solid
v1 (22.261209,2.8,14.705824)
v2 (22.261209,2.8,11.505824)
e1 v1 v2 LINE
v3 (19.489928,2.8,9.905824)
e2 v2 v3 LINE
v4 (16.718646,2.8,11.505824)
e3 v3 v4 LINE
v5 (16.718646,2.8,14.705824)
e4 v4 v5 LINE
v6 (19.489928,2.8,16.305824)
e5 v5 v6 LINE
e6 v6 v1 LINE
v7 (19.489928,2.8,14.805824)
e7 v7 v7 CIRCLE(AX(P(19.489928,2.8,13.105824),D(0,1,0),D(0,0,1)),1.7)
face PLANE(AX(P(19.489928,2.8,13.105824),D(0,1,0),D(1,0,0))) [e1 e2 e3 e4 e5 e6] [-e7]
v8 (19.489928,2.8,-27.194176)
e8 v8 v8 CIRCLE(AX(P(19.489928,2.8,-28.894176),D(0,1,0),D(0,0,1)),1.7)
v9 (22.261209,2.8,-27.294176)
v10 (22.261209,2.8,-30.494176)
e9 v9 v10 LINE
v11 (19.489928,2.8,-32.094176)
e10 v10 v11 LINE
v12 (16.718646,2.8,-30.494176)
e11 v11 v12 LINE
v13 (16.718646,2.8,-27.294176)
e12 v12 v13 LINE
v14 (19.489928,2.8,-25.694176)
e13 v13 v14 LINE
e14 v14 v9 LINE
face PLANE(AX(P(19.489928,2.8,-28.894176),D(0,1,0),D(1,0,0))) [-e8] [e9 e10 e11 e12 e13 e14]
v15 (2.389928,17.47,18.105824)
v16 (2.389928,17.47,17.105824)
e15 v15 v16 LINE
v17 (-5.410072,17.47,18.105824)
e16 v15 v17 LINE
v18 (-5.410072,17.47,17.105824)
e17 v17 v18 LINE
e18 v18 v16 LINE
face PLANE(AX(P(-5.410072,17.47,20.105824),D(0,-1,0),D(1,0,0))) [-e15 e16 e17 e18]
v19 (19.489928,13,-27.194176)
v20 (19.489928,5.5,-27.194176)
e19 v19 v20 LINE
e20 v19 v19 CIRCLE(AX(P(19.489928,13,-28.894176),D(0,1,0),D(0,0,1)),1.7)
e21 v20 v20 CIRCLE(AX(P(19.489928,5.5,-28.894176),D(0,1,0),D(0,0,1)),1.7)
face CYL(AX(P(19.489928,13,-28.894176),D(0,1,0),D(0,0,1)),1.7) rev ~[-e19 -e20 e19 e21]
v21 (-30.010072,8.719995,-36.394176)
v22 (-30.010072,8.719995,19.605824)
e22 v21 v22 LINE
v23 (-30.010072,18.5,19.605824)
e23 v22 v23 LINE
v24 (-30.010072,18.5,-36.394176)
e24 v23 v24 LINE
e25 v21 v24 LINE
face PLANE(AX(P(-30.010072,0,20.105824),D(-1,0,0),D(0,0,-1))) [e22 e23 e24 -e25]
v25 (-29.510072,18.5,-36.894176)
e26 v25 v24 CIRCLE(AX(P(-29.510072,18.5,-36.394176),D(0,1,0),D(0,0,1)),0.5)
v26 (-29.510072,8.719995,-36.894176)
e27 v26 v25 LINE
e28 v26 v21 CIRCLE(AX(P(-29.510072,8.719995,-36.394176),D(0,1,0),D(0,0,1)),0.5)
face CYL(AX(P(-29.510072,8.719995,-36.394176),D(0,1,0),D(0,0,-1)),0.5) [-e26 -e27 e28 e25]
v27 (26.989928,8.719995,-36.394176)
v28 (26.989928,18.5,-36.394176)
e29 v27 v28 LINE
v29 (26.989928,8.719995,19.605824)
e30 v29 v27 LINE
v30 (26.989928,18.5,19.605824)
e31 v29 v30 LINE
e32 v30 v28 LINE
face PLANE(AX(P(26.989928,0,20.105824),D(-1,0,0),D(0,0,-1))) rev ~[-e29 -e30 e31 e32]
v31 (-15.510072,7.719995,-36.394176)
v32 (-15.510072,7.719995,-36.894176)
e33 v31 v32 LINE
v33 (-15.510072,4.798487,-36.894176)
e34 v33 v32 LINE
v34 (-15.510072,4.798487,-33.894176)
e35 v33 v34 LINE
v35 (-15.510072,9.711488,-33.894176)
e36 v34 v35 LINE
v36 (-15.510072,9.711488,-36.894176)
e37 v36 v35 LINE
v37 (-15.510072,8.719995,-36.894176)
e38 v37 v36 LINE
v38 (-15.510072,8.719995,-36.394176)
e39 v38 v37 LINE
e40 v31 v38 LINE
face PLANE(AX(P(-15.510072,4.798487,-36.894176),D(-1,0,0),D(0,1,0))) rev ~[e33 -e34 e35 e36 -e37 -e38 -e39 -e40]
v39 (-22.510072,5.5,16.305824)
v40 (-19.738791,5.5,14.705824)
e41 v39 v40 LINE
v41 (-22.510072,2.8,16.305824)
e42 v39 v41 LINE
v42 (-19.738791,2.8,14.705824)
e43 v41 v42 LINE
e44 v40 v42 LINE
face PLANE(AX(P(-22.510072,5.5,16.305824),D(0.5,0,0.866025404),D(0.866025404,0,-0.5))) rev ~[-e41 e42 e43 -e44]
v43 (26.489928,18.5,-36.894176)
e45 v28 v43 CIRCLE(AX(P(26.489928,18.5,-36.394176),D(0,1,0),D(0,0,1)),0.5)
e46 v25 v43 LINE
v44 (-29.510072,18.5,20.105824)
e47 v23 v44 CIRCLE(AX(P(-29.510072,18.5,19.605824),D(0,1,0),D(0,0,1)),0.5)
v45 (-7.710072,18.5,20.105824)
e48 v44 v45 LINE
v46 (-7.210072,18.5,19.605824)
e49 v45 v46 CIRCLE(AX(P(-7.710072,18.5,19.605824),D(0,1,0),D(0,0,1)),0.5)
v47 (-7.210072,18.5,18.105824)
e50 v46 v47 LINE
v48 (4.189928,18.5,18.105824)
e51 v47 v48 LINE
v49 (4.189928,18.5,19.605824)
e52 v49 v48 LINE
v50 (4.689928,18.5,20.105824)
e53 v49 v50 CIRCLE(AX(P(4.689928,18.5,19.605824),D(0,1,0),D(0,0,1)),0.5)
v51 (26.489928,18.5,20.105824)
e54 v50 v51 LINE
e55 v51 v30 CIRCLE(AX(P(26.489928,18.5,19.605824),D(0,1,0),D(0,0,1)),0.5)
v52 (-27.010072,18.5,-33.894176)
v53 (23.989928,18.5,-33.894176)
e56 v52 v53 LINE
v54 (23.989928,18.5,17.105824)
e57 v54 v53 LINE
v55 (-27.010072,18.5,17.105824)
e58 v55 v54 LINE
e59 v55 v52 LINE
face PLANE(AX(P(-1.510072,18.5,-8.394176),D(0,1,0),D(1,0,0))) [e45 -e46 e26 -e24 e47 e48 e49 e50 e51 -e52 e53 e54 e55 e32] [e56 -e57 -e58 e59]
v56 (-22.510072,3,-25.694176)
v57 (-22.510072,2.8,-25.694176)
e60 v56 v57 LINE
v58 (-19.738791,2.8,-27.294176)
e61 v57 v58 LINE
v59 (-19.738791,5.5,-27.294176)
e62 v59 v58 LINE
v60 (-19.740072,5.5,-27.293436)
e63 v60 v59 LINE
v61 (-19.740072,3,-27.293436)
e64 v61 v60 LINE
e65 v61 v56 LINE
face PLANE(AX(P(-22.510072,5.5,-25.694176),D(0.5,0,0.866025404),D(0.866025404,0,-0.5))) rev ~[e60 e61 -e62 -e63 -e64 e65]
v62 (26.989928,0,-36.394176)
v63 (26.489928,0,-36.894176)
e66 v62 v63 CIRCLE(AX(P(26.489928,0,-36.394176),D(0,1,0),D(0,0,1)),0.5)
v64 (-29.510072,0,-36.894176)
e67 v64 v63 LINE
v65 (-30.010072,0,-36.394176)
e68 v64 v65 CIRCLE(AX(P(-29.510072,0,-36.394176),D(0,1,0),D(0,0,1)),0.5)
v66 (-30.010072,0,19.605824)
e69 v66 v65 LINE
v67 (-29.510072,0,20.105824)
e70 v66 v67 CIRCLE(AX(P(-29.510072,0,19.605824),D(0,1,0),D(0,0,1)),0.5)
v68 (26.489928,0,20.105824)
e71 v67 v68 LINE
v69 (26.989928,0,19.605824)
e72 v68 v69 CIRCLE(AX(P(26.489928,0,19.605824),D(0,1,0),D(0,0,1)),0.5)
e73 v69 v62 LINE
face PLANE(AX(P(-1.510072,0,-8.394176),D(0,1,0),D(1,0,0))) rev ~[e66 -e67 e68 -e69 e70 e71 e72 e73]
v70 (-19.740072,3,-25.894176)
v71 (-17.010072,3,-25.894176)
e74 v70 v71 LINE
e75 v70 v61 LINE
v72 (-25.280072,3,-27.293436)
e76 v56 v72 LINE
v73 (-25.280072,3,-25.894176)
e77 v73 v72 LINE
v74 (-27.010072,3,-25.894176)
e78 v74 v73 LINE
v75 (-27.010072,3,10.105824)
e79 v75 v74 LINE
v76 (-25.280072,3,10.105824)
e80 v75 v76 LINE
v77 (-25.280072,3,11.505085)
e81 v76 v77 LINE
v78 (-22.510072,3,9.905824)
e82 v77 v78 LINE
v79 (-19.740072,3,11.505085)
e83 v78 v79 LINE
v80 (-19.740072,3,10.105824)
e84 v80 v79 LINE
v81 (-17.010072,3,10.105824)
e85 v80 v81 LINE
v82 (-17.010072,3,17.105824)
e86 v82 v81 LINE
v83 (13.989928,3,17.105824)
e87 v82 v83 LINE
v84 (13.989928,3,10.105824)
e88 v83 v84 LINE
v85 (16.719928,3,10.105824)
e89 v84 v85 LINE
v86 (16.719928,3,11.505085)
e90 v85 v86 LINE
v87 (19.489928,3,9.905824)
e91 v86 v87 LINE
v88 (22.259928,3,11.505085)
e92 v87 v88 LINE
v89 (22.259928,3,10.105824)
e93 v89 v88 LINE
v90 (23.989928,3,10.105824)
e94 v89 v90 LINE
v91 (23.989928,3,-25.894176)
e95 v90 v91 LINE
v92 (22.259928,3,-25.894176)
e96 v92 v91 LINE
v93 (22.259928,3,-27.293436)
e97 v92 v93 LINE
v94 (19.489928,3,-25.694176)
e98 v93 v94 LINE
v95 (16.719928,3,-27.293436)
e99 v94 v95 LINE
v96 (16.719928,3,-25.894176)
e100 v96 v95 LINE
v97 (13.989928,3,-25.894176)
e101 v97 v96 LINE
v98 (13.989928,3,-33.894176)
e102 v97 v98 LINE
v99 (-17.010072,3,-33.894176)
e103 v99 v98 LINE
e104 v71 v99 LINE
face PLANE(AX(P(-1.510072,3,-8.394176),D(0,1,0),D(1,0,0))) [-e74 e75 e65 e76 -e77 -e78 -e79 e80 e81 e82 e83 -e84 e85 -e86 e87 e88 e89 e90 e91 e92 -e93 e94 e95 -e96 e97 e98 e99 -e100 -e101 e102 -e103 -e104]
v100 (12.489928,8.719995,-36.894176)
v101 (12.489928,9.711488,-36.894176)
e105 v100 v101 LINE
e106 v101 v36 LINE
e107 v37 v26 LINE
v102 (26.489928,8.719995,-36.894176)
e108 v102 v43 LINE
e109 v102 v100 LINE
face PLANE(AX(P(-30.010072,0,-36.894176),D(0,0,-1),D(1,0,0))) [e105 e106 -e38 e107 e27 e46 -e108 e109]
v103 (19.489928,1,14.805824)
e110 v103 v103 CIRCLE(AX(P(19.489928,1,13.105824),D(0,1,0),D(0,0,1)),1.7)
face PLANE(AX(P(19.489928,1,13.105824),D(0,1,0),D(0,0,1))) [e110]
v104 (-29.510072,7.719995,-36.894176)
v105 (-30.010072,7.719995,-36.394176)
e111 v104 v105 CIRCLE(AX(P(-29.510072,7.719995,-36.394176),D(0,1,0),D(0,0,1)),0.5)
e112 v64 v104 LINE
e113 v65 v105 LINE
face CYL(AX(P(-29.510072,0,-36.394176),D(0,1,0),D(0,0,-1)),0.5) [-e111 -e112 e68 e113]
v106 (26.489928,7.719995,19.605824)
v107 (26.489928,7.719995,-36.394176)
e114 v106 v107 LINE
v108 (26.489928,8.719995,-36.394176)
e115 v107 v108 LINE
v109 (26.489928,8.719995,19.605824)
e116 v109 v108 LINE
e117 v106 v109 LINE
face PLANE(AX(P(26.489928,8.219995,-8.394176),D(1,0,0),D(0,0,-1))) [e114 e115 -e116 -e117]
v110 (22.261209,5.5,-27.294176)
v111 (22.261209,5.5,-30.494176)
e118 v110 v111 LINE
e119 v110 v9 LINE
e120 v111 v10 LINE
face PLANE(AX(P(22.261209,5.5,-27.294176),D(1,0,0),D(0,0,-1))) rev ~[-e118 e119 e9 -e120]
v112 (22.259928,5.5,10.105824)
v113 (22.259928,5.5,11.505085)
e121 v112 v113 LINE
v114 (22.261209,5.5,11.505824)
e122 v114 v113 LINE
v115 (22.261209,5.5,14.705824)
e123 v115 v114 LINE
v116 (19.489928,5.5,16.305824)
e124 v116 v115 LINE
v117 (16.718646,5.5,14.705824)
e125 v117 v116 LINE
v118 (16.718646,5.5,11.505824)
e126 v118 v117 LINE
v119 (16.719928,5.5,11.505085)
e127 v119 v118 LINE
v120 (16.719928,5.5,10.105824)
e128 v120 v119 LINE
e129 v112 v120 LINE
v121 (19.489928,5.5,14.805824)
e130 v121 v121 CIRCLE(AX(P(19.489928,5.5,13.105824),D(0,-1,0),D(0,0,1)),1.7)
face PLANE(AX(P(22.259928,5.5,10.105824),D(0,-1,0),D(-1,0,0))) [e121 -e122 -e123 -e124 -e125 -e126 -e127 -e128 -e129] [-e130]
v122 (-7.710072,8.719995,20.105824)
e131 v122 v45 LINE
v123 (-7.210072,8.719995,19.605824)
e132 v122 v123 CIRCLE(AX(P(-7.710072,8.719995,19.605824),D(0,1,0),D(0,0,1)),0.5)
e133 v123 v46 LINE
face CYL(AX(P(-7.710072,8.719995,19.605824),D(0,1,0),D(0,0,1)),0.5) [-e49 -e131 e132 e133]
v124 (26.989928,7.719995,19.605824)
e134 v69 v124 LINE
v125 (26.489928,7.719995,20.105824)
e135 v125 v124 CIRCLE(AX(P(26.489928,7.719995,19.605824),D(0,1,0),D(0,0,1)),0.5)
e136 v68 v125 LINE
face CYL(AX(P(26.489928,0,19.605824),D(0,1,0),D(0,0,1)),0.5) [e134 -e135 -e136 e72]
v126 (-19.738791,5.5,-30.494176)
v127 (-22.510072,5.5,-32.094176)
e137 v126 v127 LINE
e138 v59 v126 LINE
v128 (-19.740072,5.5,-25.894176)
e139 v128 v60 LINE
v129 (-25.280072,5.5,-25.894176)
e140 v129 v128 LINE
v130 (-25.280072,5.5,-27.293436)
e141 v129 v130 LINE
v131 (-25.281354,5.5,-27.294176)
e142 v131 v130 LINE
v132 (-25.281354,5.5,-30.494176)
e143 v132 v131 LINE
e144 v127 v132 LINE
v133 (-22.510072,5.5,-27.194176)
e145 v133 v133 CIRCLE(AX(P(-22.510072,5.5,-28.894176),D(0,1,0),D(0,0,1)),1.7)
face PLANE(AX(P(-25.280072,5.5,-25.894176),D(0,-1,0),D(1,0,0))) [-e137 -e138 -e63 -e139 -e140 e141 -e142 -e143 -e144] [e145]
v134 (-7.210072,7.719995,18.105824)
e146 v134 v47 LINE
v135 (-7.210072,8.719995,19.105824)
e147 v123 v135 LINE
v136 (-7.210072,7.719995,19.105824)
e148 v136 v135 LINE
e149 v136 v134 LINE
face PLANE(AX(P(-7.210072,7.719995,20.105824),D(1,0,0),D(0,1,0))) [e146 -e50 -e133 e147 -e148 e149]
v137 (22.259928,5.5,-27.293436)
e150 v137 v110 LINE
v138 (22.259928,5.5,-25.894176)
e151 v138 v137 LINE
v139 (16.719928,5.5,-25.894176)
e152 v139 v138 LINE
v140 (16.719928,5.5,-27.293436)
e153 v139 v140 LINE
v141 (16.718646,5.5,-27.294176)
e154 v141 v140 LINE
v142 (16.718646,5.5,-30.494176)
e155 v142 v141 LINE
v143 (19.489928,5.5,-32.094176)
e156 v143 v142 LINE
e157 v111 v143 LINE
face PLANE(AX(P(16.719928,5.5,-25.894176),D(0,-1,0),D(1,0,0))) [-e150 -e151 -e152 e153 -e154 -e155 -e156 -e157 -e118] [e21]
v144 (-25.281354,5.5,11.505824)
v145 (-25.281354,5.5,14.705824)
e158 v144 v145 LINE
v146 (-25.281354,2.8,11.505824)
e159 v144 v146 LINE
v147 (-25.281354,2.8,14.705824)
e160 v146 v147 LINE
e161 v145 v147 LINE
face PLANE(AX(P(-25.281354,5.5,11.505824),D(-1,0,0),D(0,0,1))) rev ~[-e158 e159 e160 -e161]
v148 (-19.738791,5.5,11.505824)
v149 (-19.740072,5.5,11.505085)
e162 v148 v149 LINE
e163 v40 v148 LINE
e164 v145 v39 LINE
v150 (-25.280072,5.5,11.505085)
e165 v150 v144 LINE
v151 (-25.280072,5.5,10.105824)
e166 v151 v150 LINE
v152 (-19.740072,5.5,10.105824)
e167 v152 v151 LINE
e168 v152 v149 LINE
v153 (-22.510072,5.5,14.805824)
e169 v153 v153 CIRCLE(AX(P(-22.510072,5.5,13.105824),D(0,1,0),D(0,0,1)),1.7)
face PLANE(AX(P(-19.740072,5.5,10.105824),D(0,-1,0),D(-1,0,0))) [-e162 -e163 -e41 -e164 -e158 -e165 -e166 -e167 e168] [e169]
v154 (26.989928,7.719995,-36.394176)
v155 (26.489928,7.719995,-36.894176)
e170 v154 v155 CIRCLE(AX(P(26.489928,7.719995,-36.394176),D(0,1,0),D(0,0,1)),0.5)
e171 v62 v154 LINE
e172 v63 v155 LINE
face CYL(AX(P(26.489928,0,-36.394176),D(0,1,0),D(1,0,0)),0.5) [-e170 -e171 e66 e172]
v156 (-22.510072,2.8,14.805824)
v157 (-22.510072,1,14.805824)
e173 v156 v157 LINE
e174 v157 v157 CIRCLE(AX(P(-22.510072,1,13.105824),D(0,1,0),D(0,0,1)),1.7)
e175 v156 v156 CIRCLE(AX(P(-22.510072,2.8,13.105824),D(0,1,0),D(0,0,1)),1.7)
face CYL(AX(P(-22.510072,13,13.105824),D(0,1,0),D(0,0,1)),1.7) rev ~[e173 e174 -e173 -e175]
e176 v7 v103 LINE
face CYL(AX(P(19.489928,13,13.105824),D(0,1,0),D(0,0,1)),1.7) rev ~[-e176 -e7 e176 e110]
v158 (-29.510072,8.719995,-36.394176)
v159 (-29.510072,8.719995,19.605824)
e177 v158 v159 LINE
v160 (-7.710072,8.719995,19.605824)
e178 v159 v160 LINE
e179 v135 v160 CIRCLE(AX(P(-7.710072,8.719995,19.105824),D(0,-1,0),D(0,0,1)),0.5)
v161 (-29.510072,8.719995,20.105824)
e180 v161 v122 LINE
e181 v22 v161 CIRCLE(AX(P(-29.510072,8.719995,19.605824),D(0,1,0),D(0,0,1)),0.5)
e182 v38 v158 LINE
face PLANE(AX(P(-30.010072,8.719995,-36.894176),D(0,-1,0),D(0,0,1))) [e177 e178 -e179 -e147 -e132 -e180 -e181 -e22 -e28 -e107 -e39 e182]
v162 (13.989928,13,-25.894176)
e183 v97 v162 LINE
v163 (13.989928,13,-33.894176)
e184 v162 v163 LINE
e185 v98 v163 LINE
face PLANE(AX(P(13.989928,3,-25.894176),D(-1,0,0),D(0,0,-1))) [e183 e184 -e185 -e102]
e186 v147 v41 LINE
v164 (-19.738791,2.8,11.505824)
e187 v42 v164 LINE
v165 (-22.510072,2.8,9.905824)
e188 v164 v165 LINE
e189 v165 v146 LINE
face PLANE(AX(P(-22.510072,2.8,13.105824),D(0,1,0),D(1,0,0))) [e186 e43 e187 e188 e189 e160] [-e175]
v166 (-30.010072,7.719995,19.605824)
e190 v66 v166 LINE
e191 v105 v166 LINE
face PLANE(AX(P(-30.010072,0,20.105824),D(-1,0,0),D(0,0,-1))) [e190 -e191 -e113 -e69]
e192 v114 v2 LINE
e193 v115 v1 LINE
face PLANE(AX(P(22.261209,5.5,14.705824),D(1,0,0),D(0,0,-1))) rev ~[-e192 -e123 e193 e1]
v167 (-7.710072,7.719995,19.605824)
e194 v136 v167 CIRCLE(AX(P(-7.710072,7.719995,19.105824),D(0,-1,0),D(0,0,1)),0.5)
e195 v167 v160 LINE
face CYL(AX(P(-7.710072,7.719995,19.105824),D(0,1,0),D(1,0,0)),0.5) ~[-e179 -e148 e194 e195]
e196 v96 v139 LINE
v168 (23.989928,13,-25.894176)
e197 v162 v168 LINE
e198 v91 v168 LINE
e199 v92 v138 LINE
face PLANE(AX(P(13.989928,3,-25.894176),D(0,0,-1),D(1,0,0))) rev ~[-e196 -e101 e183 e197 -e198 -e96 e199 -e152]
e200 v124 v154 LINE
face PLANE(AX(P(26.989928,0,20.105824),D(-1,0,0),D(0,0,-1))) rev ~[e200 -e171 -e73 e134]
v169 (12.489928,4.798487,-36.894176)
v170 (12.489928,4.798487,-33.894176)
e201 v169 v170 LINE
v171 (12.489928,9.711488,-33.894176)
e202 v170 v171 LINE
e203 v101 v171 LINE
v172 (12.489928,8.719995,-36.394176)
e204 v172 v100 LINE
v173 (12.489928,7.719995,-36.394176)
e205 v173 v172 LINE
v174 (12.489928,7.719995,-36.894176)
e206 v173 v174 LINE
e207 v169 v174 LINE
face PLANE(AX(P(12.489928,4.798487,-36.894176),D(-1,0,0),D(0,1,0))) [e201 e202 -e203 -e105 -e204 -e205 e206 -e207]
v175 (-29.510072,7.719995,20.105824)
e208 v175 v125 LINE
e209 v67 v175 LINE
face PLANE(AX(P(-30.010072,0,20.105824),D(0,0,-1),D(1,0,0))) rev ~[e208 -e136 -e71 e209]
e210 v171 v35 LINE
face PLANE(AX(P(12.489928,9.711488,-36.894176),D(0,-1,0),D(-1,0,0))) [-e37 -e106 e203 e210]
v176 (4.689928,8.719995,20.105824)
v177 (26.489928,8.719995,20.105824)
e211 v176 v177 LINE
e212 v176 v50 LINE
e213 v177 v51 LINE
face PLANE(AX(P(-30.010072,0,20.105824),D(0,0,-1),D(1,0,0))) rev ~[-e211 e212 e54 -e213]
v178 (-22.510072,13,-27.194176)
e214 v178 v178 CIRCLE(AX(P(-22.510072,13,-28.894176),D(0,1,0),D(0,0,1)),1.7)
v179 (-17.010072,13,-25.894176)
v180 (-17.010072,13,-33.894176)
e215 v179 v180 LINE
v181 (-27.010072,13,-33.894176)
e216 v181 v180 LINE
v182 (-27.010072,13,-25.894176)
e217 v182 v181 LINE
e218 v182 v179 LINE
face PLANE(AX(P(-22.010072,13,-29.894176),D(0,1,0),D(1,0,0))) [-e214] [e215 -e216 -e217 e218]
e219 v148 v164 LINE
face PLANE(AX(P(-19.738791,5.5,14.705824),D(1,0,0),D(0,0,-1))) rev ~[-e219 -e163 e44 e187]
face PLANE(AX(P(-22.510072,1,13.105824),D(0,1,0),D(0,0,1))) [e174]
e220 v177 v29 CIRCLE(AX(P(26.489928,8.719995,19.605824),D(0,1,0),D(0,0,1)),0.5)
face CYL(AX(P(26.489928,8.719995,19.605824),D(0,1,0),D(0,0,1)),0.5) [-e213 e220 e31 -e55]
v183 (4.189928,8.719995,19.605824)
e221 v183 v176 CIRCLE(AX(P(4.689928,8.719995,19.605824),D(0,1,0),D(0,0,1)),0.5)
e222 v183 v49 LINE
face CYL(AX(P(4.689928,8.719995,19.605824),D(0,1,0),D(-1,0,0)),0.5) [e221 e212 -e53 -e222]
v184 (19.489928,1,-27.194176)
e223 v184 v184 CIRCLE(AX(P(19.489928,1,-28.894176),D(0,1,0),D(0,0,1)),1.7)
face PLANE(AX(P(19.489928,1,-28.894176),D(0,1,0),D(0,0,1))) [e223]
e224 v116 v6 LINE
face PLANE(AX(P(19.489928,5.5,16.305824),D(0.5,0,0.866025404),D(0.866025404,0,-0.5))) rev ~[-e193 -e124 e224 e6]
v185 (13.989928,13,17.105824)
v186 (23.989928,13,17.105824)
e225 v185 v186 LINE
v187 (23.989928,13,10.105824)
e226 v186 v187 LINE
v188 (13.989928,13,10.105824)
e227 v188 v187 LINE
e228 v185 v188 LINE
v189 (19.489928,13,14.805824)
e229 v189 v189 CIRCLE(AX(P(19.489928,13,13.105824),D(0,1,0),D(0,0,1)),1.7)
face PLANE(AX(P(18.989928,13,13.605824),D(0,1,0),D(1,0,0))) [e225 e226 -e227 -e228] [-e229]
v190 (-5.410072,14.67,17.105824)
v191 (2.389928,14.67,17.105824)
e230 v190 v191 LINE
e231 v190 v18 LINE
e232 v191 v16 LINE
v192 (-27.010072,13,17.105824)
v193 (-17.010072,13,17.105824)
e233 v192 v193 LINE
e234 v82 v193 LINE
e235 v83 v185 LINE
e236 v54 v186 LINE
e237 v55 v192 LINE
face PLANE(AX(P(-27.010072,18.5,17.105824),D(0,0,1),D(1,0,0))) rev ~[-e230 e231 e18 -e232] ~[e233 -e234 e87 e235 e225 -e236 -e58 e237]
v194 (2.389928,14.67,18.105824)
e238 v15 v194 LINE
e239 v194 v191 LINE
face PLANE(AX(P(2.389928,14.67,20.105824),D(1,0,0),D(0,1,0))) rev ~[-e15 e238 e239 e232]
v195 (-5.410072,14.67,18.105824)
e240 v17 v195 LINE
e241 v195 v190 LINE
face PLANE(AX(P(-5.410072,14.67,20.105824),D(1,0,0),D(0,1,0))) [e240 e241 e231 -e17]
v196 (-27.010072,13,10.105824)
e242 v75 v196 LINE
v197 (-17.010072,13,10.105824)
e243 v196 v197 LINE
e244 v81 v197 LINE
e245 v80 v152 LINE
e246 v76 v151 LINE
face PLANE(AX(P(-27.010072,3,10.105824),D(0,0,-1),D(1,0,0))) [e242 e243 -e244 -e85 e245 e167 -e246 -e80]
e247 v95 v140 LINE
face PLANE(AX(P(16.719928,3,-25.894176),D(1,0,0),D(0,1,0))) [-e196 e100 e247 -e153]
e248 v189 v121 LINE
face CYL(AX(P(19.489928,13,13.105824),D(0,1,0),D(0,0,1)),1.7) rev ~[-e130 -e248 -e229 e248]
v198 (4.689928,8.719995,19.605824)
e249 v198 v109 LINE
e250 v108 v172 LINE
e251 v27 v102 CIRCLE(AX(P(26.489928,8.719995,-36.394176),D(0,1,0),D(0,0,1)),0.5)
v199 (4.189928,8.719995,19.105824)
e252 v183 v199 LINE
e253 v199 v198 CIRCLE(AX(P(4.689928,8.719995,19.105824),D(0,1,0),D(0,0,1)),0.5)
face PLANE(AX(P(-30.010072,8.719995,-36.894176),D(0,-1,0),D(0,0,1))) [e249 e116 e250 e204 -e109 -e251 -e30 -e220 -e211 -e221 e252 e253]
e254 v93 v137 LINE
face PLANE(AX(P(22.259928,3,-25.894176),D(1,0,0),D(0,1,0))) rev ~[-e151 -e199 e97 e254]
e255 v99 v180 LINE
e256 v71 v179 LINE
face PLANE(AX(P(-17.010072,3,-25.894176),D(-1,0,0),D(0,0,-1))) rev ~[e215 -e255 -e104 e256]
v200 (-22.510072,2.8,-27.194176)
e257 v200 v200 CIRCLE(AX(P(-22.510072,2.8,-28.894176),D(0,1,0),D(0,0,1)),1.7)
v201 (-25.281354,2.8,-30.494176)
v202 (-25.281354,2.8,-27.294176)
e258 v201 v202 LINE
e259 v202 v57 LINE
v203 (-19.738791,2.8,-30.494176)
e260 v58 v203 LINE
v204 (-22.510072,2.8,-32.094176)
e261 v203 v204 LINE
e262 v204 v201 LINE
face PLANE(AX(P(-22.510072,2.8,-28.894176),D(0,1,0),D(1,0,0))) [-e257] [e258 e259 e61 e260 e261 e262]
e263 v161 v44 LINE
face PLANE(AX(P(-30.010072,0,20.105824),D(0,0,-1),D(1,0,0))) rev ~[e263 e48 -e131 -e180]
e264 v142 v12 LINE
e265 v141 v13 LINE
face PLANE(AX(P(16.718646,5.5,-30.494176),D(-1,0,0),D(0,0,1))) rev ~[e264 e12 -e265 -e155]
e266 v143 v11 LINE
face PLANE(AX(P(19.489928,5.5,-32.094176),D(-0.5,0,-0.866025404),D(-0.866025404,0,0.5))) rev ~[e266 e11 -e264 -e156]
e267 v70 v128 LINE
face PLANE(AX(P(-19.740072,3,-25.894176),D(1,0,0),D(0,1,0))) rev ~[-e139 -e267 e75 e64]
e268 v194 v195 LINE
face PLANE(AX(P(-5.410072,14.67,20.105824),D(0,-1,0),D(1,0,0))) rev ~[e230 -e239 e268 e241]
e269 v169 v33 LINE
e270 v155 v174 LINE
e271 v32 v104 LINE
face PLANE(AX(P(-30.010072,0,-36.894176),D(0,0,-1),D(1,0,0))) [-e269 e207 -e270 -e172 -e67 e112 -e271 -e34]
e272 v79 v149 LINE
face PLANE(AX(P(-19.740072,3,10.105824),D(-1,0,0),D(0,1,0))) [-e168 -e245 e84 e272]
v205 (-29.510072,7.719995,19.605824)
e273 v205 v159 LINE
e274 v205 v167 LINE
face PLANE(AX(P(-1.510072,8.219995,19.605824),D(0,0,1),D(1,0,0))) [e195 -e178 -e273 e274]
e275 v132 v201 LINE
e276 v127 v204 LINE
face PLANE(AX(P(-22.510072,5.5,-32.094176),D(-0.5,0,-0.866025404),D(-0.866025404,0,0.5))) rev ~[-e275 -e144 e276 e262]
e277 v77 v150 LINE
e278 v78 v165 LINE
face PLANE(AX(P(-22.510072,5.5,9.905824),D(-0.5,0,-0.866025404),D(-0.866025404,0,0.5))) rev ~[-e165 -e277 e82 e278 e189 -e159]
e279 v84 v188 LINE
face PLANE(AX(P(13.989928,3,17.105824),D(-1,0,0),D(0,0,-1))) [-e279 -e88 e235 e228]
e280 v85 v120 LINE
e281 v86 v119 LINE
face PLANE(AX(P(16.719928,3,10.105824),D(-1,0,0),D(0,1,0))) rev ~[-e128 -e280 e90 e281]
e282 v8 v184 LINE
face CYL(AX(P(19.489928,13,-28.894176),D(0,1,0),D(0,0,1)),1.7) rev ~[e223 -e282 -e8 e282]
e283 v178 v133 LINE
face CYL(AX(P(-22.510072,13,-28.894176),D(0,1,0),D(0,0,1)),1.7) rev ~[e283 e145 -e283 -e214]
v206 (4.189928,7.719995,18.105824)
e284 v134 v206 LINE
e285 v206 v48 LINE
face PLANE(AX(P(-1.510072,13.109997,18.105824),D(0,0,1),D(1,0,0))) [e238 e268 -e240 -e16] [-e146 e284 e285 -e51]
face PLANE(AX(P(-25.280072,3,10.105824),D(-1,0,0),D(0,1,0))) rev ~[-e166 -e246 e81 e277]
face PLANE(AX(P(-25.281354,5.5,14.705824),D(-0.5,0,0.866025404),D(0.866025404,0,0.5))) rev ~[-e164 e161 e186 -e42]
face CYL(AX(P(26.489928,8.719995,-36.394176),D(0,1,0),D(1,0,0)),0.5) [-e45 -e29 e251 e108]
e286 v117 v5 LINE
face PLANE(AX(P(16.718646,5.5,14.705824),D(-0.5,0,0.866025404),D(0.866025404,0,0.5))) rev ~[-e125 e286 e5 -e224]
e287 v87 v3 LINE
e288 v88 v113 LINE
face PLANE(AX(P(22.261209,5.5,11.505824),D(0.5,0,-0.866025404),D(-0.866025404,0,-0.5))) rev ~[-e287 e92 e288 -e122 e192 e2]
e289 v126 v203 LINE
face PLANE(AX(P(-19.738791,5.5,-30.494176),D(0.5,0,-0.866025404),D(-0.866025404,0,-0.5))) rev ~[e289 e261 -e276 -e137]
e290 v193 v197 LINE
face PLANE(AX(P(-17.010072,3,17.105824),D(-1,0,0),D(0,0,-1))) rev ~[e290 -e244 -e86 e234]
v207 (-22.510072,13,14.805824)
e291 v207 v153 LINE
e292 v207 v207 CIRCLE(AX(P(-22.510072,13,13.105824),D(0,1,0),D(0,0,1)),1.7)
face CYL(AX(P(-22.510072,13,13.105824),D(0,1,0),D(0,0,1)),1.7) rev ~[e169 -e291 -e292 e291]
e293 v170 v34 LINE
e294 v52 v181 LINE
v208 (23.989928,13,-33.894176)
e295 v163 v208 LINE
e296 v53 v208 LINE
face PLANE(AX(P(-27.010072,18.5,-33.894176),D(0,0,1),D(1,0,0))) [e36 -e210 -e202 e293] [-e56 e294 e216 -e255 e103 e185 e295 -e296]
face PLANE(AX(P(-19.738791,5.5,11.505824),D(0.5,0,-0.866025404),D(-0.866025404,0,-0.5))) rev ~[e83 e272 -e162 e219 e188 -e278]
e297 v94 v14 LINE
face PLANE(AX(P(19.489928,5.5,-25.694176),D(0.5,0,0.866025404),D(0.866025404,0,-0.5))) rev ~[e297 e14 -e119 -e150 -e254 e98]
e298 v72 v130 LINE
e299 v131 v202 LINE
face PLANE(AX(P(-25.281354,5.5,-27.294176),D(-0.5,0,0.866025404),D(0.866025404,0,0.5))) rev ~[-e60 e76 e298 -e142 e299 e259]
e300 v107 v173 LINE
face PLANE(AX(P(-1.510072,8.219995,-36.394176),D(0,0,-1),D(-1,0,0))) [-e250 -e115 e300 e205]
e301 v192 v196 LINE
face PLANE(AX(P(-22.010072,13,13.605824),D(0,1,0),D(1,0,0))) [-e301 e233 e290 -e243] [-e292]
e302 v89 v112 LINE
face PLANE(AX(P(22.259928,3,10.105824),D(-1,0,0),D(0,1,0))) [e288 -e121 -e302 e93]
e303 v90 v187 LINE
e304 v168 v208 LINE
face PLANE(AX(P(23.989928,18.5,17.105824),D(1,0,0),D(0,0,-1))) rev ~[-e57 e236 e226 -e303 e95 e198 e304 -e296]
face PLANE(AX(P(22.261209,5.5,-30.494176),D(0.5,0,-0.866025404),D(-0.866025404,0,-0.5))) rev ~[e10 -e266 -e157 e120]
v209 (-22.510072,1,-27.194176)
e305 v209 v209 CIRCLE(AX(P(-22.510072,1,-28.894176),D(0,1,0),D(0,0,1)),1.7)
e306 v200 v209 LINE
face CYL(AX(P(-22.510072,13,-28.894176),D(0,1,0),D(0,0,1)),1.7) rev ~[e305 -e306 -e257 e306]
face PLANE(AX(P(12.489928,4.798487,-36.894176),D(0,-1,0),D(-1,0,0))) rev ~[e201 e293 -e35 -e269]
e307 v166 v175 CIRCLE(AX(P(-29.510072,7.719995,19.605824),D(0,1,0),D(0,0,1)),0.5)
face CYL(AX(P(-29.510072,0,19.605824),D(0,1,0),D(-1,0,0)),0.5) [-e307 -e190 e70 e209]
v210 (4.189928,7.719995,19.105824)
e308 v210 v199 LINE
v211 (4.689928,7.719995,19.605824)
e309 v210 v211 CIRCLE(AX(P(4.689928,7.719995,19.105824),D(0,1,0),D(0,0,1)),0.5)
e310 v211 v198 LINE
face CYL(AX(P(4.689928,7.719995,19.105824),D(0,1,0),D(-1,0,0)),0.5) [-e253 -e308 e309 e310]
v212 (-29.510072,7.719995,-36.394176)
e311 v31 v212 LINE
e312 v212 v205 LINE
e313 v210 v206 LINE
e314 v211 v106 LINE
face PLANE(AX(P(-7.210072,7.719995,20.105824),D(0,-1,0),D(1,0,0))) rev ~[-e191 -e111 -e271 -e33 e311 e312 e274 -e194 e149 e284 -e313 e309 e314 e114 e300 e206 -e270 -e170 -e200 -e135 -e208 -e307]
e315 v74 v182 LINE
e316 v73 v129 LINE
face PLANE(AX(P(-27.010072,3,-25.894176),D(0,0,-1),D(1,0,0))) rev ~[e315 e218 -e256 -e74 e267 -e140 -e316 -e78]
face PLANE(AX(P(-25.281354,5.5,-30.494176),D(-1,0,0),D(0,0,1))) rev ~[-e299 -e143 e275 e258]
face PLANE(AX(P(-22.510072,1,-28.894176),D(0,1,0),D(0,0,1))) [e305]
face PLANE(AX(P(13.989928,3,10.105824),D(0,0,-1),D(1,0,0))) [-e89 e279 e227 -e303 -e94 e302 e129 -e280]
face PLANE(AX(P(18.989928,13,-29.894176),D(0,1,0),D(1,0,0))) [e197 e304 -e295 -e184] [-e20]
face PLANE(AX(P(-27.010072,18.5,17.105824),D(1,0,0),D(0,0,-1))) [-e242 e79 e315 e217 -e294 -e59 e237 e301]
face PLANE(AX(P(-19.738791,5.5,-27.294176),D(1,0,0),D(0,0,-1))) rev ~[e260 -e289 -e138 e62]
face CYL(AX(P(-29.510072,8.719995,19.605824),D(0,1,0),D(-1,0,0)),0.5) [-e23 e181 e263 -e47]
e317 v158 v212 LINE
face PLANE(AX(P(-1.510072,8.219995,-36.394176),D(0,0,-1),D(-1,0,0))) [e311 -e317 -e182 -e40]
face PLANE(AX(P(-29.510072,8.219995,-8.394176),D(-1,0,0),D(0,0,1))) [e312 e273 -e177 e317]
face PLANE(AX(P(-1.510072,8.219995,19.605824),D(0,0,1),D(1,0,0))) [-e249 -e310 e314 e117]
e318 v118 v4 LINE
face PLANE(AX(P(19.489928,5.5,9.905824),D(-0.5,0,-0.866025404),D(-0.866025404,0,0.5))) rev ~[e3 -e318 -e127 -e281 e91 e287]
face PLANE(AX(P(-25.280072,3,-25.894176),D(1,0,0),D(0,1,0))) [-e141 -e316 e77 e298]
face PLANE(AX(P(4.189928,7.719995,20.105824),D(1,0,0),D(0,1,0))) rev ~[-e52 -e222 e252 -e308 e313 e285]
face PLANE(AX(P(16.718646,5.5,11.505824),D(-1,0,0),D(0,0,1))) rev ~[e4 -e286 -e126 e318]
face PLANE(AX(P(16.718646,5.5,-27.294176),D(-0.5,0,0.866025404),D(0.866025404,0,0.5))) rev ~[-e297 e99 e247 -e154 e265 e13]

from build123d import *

# Parameters (mm, degrees)
ESQUISSE1_W              = 57
ESQUISSE1_H              = 57
BOSS_EXTRU_1_DEPTH       = 18.5
ESQUISSE2_W              = 51
ESQUISSE2_H              = 51
ENL_V_MAT_EXTRU_1_DEPTH  = 15.5
ESQUISSE4_W              = 10
ESQUISSE4_H              = 8
BOSS_EXTRU_2_DEPTH       = 10
ESQUISSE5_W              = 10
ESQUISSE5_H              = 8
BOSS_EXTRU_3_DEPTH       = 10
ESQUISSE6_W              = 10
ESQUISSE6_H              = 7
BOSS_EXTRU_4_DEPTH       = 10
ESQUISSE7_W              = 10
ESQUISSE7_H              = 7
BOSS_EXTRU_5_DEPTH       = 10
ESQUISSE8_R              = 1.7
ENL_V_MAT_EXTRU_2_DEPTH  = 12
ESQUISSE9_R              = 1.7
ENL_V_MAT_EXTRU_3_DEPTH  = 12
ESQUISSE16_R             = 1.7
ENL_V_MAT_EXTRU_9_DEPTH  = 12
ESQUISSE17_R             = 1.7
ENL_V_MAT_EXTRU_10_DEPTH = 12
ESQUISSE21_W             = 7.8
ESQUISSE21_H             = 2.8
ENL_V_MAT_EXTRU_14_DEPTH = 3
ENL_V_START              = -7.5
ENL_V_MAT_EXTRU_18_DEPTH = 2.7
ENL_V_MAT_EXTRU_20_DEPTH = 2.7
ESQUISSE26_W             = 5.54
ESQUISSE26_H             = 2.5
ENL_V_MAT_EXTRU_21_DEPTH = 2.847955181
ENL_V_MAT_EXTRU_22_DEPTH = 2.7
ENL_V_MAT_EXTRU_24_DEPTH = 2.7
ESQUISSE23_W             = 5.54
ESQUISSE23_H             = 2.5
ENL_V_MAT_EXTRU_26_DEPTH = 2
ESQUISSE31_W             = 5.54
ESQUISSE31_H             = 2.5
ENL_V_MAT_EXTRU_27_DEPTH = 2
ESQUISSE30_W             = 5.54
ESQUISSE30_H             = 2.5
ENL_V_MAT_EXTRU_28_DEPTH = 2
ESQUISSE32_W             = 57
ESQUISSE32_H             = 1
ENL_V_MAT_EXTRU_29_DEPTH = 0.5
ESQUISSE33_W             = 57
ESQUISSE33_H             = 1
ENL_V_MAT_EXTRU_30_DEPTH = 0.5
ESQUISSE34_W             = 57
ESQUISSE34_H             = 1
ENL_V_MAT_EXTRU_31_DEPTH = 0.5
ESQUISSE35_W             = 57
ESQUISSE35_H             = 1
ENL_V_MAT_EXTRU_32_DEPTH = 0.5
ESQUISSE36_W             = 11.4
ESQUISSE36_H             = 10.780005484
ENL_V_MAT_EXTRU_33_DEPTH = 2
CONG_1_R                 = 0.5
CONG_2_R                 = 0.5
CONG_3_R                 = 0.5
CONG_4_R                 = 0.5
CONG_5_R                 = 0.5
CONG_6_R                 = 0.5
CONG_7_R                 = 0.5
CONG_8_R                 = 0.5
CONG_9_R                 = 0.5
CONG_10_R                = 0.5
CONG_11_R                = 0.5
CONG_12_R                = 0.5
ESQUISSE38_W             = 28
ESQUISSE38_H             = 4.913001224
ENL_V_MAT_EXTRU_34_DEPTH = 3


with BuildPart() as part:
    # Esquisse1 → Boss.-Extru.1 (new body)
    with BuildSketch(Plane(origin=(0, 0, 0), x_dir=(1, 0, 0), z_dir=(0, 1, 0))):
        with Locations((-1.510072399, 8.394175698)):
            Rectangle(ESQUISSE1_W, ESQUISSE1_H)
    extrude(amount=BOSS_EXTRU_1_DEPTH)

    # Esquisse2 → Enlèv. mat.-Extru.1 (cut)
    with BuildSketch(Plane(origin=(0, 18.5, 0), x_dir=(1, 0, 0), z_dir=(0, 1, 0))):
        with Locations((-1.510072399, 8.394175698)):
            Rectangle(ESQUISSE2_W, ESQUISSE2_H)
    extrude(amount=-ENL_V_MAT_EXTRU_1_DEPTH, mode=Mode.SUBTRACT)

    # Esquisse4 → Boss.-Extru.2 (add)
    with BuildSketch(Plane(origin=(0, 3, 0), x_dir=(1, 0, 0), z_dir=(0, 1, 0))):
        with Locations((-22.010072399, 29.894175698)):
            Rectangle(ESQUISSE4_W, ESQUISSE4_H)
    extrude(amount=BOSS_EXTRU_2_DEPTH)

    # Esquisse5 → Boss.-Extru.3 (add)
    with BuildSketch(Plane(origin=(0, 3, 0), x_dir=(1, 0, 0), z_dir=(0, 1, 0))):
        with Locations((18.989927601, 29.894175698)):
            Rectangle(ESQUISSE5_W, ESQUISSE5_H)
    extrude(amount=BOSS_EXTRU_3_DEPTH)

    # Esquisse6 → Boss.-Extru.4 (add)
    with BuildSketch(Plane(origin=(0, 3, 0), x_dir=(1, 0, 0), z_dir=(0, 1, 0))):
        with Locations((18.989927601, -13.605824302)):
            Rectangle(ESQUISSE6_W, ESQUISSE6_H)
    extrude(amount=BOSS_EXTRU_4_DEPTH)

    # Esquisse7 → Boss.-Extru.5 (add)
    with BuildSketch(Plane(origin=(0, 3, 0), x_dir=(1, 0, 0), z_dir=(0, 1, 0))):
        with Locations((-22.010072399, -13.605824302)):
            Rectangle(ESQUISSE7_W, ESQUISSE7_H)
    extrude(amount=BOSS_EXTRU_5_DEPTH)

    # Esquisse8 → Enlèv. mat.-Extru.2 (cut)
    with BuildSketch(Plane(origin=(0, 13, 0), x_dir=(1, 0, 0), z_dir=(0, 1, 0))):
        with Locations(Location((19.489927601, -13.105824302, 0), (0, 0, 270))):
            Circle(ESQUISSE8_R)
    extrude(amount=-ENL_V_MAT_EXTRU_2_DEPTH, mode=Mode.SUBTRACT)

    # Esquisse9 → Enlèv. mat.-Extru.3 (cut)
    with BuildSketch(Plane(origin=(0, 13, 0), x_dir=(1, 0, 0), z_dir=(0, 1, 0))):
        with Locations(Location((-22.510072399, -13.105824302, 0), (0, 0, 270))):
            Circle(ESQUISSE9_R)
    extrude(amount=-ENL_V_MAT_EXTRU_3_DEPTH, mode=Mode.SUBTRACT)

    # Esquisse16 → Enlèv. mat.-Extru.9 (cut)
    with BuildSketch(Plane(origin=(0, 13, 0), x_dir=(1, 0, 0), z_dir=(0, 1, 0))):
        with Locations(Location((-22.510072399, 28.894175698, 0), (0, 0, 270))):
            Circle(ESQUISSE16_R)
    extrude(amount=-ENL_V_MAT_EXTRU_9_DEPTH, mode=Mode.SUBTRACT)

    # Esquisse17 → Enlèv. mat.-Extru.10 (cut)
    with BuildSketch(Plane(origin=(0, 13, 0), x_dir=(1, 0, 0), z_dir=(0, 1, 0))):
        with Locations(Location((19.489927601, 28.894175698, 0), (0, 0, 270))):
            Circle(ESQUISSE17_R)
    extrude(amount=-ENL_V_MAT_EXTRU_10_DEPTH, mode=Mode.SUBTRACT)

    # Esquisse21 → Enlèv. mat.-Extru.14 (cut)
    with BuildSketch(Plane.XY.offset(20.105824302)):
        with Locations((-1.510072399, 16.07)):
            Rectangle(ESQUISSE21_W, ESQUISSE21_H)
    extrude(amount=-ENL_V_MAT_EXTRU_14_DEPTH, mode=Mode.SUBTRACT)

    # Esquisse24 → Enlèv. mat.-Extru.18 (cut)
    with BuildSketch(Plane(origin=(0, 13, 0), x_dir=(1, 0, 0), z_dir=(0, 1, 0)).offset(ENL_V_START)):
        Polygon((19.489927601, 25.694175698), (22.261208893, 27.294175698), (22.261208893, 30.494175698), (19.489927601, 32.094175698), (16.718646309, 30.494175698), (16.718646309, 27.294175698), align=None)
    extrude(amount=-ENL_V_MAT_EXTRU_18_DEPTH, mode=Mode.SUBTRACT)

    # Esquisse25 → Enlèv. mat.-Extru.20 (cut)
    with BuildSketch(Plane(origin=(0, 13, 0), x_dir=(1, 0, 0), z_dir=(0, 1, 0)).offset(ENL_V_START)):
        Polygon((16.718646309, -11.505824302), (16.718646309, -14.705824302), (19.489927601, -16.305824302), (22.261208893, -14.705824302), (22.261208893, -11.505824302), (19.489927601, -9.905824302), align=None)
    extrude(amount=-ENL_V_MAT_EXTRU_20_DEPTH, mode=Mode.SUBTRACT)

    # Esquisse26 → Enlèv. mat.-Extru.21 (cut)
    with BuildSketch(Plane(origin=(0, 0, 10.105824302), x_dir=(-1, 0, 0), z_dir=(0, 0, -1))):
        with Locations((-19.489927601, 4.25)):
            Rectangle(ESQUISSE26_W, ESQUISSE26_H)
    extrude(amount=-ENL_V_MAT_EXTRU_21_DEPTH, mode=Mode.SUBTRACT)

    # Esquisse27 → Enlèv. mat.-Extru.22 (cut)
    with BuildSketch(Plane(origin=(0, 13, 0), x_dir=(1, 0, 0), z_dir=(0, 1, 0)).offset(ENL_V_START)):
        Polygon((-19.738791107, 27.294175698), (-19.738791107, 30.494175698), (-22.510072399, 32.094175698), (-25.281353691, 30.494175698), (-25.281353691, 27.294175698), (-22.510072399, 25.694175698), align=None)
    extrude(amount=-ENL_V_MAT_EXTRU_22_DEPTH, mode=Mode.SUBTRACT)

    # Esquisse29 → Enlèv. mat.-Extru.24 (cut)
    with BuildSketch(Plane(origin=(0, 13, 0), x_dir=(1, 0, 0), z_dir=(0, 1, 0)).offset(ENL_V_START)):
        Polygon((-19.738791107, -11.505824302), (-22.510072399, -9.905824302), (-25.281353691, -11.505824302), (-25.281353691, -14.705824302), (-22.510072399, -16.305824302), (-19.738791107, -14.705824302), align=None)
    extrude(amount=-ENL_V_MAT_EXTRU_24_DEPTH, mode=Mode.SUBTRACT)

    # Esquisse23 → Enlèv. mat.-Extru.26 (cut)
    with BuildSketch(Plane.XY.offset(-25.894175698)):
        with Locations((19.489927601, 4.25)):
            Rectangle(ESQUISSE23_W, ESQUISSE23_H)
    extrude(amount=-ENL_V_MAT_EXTRU_26_DEPTH, mode=Mode.SUBTRACT)

    # Esquisse31 → Enlèv. mat.-Extru.27 (cut)
    with BuildSketch(Plane.XY.offset(-25.894175698)):
        with Locations((-22.510072399, 4.25)):
            Rectangle(ESQUISSE31_W, ESQUISSE31_H)
    extrude(amount=-ENL_V_MAT_EXTRU_27_DEPTH, mode=Mode.SUBTRACT)

    # Esquisse30 → Enlèv. mat.-Extru.28 (cut)
    with BuildSketch(Plane(origin=(0, 0, 10.105824302), x_dir=(-1, 0, 0), z_dir=(0, 0, -1))):
        with Locations((22.510072399, 4.25)):
            Rectangle(ESQUISSE30_W, ESQUISSE30_H)
    extrude(amount=-ENL_V_MAT_EXTRU_28_DEPTH, mode=Mode.SUBTRACT)

    # Esquisse32 → Enlèv. mat.-Extru.29 (cut)
    with BuildSketch(Plane.ZY.offset(30.010072399)):
        with Locations((-8.394175698, 8.219994516)):
            Rectangle(ESQUISSE32_W, ESQUISSE32_H)
    extrude(amount=-ENL_V_MAT_EXTRU_29_DEPTH, mode=Mode.SUBTRACT)

    # Esquisse33 → Enlèv. mat.-Extru.30 (cut)
    with BuildSketch(Plane.XY.offset(20.105824302)):
        with Locations((-1.510072399, 8.219994516)):
            Rectangle(ESQUISSE33_W, ESQUISSE33_H)
    extrude(amount=-ENL_V_MAT_EXTRU_30_DEPTH, mode=Mode.SUBTRACT)

    # Esquisse34 → Enlèv. mat.-Extru.31 (cut)
    with BuildSketch(Plane(origin=(26.989927601, 0, 0), x_dir=(0, 0, -1), z_dir=(1, 0, 0))):
        with Locations((8.394175698, 8.219994516)):
            Rectangle(ESQUISSE34_W, ESQUISSE34_H)
    extrude(amount=-ENL_V_MAT_EXTRU_31_DEPTH, mode=Mode.SUBTRACT)

    # Esquisse35 → Enlèv. mat.-Extru.32 (cut)
    with BuildSketch(Plane(origin=(0, 0, -36.894175698), x_dir=(-1, 0, 0), z_dir=(0, 0, -1))):
        with Locations((1.510072399, 8.219994516)):
            Rectangle(ESQUISSE35_W, ESQUISSE35_H)
    extrude(amount=-ENL_V_MAT_EXTRU_32_DEPTH, mode=Mode.SUBTRACT)

    # Esquisse36 → Enlèv. mat.-Extru.33 (cut)
    with BuildSketch(Plane.XY.offset(20.105824302)):
        with Locations((-1.510072399, 13.109997258)):
            Rectangle(ESQUISSE36_W, ESQUISSE36_H)
    extrude(amount=-ENL_V_MAT_EXTRU_33_DEPTH, mode=Mode.SUBTRACT)

    # Congé1
    cong_1_edges = [part.edges().sort_by_distance(p)[0] for p in [
        (-7.210072399, 13.609997258, 20.105824302),
    ]]
    fillet(cong_1_edges, radius=CONG_1_R)

    # Congé2
    cong_2_edges = [part.edges().sort_by_distance(p)[0] for p in [
        (4.189927601, 13.609997258, 20.105824302),
    ]]
    fillet(cong_2_edges, radius=CONG_2_R)

    # Congé3
    cong_3_edges = [part.edges().sort_by_distance(p)[0] for p in [
        (-7.210072399, 8.219994516, 19.605824302),
    ]]
    fillet(cong_3_edges, radius=CONG_3_R)

    # Congé4
    cong_4_edges = [part.edges().sort_by_distance(p)[0] for p in [
        (4.189927601, 8.219994516, 19.605824302),
    ]]
    fillet(cong_4_edges, radius=CONG_4_R)

    # Congé5
    cong_5_edges = [part.edges().sort_by_distance(p)[0] for p in [
        (26.989927601, 13.609997258, 20.105824302),
    ]]
    fillet(cong_5_edges, radius=CONG_5_R)

    # Congé6
    cong_6_edges = [part.edges().sort_by_distance(p)[0] for p in [
        (26.989927601, 3.859997258, 20.105824302),
    ]]
    fillet(cong_6_edges, radius=CONG_6_R)

    # Congé7
    cong_7_edges = [part.edges().sort_by_distance(p)[0] for p in [
        (26.989927601, 13.609997258, -36.894175698),
    ]]
    fillet(cong_7_edges, radius=CONG_7_R)

    # Congé8
    cong_8_edges = [part.edges().sort_by_distance(p)[0] for p in [
        (26.989927601, 3.859997258, -36.894175698),
    ]]
    fillet(cong_8_edges, radius=CONG_8_R)

    # Congé9
    cong_9_edges = [part.edges().sort_by_distance(p)[0] for p in [
        (-30.010072399, 13.609997258, -36.894175698),
    ]]
    fillet(cong_9_edges, radius=CONG_9_R)

    # Congé10
    cong_10_edges = [part.edges().sort_by_distance(p)[0] for p in [
        (-30.010072399, 3.859997258, -36.894175698),
    ]]
    fillet(cong_10_edges, radius=CONG_10_R)

    # Congé11
    cong_11_edges = [part.edges().sort_by_distance(p)[0] for p in [
        (-30.010072399, 13.609997258, 20.105824302),
    ]]
    fillet(cong_11_edges, radius=CONG_11_R)

    # Congé12
    cong_12_edges = [part.edges().sort_by_distance(p)[0] for p in [
        (-30.010072399, 3.859997258, 20.105824302),
    ]]
    fillet(cong_12_edges, radius=CONG_12_R)

    # Esquisse38 → Enlèv. mat.-Extru.34 (cut)
    with BuildSketch(Plane(origin=(0, 0, -36.894175698), x_dir=(-1, 0, 0), z_dir=(0, 0, -1))):
        with Locations((1.510072399, 7.254987661)):
            Rectangle(ESQUISSE38_W, ESQUISSE38_H)
    extrude(amount=-ENL_V_MAT_EXTRU_34_DEPTH, mode=Mode.SUBTRACT)


solid = part.part
